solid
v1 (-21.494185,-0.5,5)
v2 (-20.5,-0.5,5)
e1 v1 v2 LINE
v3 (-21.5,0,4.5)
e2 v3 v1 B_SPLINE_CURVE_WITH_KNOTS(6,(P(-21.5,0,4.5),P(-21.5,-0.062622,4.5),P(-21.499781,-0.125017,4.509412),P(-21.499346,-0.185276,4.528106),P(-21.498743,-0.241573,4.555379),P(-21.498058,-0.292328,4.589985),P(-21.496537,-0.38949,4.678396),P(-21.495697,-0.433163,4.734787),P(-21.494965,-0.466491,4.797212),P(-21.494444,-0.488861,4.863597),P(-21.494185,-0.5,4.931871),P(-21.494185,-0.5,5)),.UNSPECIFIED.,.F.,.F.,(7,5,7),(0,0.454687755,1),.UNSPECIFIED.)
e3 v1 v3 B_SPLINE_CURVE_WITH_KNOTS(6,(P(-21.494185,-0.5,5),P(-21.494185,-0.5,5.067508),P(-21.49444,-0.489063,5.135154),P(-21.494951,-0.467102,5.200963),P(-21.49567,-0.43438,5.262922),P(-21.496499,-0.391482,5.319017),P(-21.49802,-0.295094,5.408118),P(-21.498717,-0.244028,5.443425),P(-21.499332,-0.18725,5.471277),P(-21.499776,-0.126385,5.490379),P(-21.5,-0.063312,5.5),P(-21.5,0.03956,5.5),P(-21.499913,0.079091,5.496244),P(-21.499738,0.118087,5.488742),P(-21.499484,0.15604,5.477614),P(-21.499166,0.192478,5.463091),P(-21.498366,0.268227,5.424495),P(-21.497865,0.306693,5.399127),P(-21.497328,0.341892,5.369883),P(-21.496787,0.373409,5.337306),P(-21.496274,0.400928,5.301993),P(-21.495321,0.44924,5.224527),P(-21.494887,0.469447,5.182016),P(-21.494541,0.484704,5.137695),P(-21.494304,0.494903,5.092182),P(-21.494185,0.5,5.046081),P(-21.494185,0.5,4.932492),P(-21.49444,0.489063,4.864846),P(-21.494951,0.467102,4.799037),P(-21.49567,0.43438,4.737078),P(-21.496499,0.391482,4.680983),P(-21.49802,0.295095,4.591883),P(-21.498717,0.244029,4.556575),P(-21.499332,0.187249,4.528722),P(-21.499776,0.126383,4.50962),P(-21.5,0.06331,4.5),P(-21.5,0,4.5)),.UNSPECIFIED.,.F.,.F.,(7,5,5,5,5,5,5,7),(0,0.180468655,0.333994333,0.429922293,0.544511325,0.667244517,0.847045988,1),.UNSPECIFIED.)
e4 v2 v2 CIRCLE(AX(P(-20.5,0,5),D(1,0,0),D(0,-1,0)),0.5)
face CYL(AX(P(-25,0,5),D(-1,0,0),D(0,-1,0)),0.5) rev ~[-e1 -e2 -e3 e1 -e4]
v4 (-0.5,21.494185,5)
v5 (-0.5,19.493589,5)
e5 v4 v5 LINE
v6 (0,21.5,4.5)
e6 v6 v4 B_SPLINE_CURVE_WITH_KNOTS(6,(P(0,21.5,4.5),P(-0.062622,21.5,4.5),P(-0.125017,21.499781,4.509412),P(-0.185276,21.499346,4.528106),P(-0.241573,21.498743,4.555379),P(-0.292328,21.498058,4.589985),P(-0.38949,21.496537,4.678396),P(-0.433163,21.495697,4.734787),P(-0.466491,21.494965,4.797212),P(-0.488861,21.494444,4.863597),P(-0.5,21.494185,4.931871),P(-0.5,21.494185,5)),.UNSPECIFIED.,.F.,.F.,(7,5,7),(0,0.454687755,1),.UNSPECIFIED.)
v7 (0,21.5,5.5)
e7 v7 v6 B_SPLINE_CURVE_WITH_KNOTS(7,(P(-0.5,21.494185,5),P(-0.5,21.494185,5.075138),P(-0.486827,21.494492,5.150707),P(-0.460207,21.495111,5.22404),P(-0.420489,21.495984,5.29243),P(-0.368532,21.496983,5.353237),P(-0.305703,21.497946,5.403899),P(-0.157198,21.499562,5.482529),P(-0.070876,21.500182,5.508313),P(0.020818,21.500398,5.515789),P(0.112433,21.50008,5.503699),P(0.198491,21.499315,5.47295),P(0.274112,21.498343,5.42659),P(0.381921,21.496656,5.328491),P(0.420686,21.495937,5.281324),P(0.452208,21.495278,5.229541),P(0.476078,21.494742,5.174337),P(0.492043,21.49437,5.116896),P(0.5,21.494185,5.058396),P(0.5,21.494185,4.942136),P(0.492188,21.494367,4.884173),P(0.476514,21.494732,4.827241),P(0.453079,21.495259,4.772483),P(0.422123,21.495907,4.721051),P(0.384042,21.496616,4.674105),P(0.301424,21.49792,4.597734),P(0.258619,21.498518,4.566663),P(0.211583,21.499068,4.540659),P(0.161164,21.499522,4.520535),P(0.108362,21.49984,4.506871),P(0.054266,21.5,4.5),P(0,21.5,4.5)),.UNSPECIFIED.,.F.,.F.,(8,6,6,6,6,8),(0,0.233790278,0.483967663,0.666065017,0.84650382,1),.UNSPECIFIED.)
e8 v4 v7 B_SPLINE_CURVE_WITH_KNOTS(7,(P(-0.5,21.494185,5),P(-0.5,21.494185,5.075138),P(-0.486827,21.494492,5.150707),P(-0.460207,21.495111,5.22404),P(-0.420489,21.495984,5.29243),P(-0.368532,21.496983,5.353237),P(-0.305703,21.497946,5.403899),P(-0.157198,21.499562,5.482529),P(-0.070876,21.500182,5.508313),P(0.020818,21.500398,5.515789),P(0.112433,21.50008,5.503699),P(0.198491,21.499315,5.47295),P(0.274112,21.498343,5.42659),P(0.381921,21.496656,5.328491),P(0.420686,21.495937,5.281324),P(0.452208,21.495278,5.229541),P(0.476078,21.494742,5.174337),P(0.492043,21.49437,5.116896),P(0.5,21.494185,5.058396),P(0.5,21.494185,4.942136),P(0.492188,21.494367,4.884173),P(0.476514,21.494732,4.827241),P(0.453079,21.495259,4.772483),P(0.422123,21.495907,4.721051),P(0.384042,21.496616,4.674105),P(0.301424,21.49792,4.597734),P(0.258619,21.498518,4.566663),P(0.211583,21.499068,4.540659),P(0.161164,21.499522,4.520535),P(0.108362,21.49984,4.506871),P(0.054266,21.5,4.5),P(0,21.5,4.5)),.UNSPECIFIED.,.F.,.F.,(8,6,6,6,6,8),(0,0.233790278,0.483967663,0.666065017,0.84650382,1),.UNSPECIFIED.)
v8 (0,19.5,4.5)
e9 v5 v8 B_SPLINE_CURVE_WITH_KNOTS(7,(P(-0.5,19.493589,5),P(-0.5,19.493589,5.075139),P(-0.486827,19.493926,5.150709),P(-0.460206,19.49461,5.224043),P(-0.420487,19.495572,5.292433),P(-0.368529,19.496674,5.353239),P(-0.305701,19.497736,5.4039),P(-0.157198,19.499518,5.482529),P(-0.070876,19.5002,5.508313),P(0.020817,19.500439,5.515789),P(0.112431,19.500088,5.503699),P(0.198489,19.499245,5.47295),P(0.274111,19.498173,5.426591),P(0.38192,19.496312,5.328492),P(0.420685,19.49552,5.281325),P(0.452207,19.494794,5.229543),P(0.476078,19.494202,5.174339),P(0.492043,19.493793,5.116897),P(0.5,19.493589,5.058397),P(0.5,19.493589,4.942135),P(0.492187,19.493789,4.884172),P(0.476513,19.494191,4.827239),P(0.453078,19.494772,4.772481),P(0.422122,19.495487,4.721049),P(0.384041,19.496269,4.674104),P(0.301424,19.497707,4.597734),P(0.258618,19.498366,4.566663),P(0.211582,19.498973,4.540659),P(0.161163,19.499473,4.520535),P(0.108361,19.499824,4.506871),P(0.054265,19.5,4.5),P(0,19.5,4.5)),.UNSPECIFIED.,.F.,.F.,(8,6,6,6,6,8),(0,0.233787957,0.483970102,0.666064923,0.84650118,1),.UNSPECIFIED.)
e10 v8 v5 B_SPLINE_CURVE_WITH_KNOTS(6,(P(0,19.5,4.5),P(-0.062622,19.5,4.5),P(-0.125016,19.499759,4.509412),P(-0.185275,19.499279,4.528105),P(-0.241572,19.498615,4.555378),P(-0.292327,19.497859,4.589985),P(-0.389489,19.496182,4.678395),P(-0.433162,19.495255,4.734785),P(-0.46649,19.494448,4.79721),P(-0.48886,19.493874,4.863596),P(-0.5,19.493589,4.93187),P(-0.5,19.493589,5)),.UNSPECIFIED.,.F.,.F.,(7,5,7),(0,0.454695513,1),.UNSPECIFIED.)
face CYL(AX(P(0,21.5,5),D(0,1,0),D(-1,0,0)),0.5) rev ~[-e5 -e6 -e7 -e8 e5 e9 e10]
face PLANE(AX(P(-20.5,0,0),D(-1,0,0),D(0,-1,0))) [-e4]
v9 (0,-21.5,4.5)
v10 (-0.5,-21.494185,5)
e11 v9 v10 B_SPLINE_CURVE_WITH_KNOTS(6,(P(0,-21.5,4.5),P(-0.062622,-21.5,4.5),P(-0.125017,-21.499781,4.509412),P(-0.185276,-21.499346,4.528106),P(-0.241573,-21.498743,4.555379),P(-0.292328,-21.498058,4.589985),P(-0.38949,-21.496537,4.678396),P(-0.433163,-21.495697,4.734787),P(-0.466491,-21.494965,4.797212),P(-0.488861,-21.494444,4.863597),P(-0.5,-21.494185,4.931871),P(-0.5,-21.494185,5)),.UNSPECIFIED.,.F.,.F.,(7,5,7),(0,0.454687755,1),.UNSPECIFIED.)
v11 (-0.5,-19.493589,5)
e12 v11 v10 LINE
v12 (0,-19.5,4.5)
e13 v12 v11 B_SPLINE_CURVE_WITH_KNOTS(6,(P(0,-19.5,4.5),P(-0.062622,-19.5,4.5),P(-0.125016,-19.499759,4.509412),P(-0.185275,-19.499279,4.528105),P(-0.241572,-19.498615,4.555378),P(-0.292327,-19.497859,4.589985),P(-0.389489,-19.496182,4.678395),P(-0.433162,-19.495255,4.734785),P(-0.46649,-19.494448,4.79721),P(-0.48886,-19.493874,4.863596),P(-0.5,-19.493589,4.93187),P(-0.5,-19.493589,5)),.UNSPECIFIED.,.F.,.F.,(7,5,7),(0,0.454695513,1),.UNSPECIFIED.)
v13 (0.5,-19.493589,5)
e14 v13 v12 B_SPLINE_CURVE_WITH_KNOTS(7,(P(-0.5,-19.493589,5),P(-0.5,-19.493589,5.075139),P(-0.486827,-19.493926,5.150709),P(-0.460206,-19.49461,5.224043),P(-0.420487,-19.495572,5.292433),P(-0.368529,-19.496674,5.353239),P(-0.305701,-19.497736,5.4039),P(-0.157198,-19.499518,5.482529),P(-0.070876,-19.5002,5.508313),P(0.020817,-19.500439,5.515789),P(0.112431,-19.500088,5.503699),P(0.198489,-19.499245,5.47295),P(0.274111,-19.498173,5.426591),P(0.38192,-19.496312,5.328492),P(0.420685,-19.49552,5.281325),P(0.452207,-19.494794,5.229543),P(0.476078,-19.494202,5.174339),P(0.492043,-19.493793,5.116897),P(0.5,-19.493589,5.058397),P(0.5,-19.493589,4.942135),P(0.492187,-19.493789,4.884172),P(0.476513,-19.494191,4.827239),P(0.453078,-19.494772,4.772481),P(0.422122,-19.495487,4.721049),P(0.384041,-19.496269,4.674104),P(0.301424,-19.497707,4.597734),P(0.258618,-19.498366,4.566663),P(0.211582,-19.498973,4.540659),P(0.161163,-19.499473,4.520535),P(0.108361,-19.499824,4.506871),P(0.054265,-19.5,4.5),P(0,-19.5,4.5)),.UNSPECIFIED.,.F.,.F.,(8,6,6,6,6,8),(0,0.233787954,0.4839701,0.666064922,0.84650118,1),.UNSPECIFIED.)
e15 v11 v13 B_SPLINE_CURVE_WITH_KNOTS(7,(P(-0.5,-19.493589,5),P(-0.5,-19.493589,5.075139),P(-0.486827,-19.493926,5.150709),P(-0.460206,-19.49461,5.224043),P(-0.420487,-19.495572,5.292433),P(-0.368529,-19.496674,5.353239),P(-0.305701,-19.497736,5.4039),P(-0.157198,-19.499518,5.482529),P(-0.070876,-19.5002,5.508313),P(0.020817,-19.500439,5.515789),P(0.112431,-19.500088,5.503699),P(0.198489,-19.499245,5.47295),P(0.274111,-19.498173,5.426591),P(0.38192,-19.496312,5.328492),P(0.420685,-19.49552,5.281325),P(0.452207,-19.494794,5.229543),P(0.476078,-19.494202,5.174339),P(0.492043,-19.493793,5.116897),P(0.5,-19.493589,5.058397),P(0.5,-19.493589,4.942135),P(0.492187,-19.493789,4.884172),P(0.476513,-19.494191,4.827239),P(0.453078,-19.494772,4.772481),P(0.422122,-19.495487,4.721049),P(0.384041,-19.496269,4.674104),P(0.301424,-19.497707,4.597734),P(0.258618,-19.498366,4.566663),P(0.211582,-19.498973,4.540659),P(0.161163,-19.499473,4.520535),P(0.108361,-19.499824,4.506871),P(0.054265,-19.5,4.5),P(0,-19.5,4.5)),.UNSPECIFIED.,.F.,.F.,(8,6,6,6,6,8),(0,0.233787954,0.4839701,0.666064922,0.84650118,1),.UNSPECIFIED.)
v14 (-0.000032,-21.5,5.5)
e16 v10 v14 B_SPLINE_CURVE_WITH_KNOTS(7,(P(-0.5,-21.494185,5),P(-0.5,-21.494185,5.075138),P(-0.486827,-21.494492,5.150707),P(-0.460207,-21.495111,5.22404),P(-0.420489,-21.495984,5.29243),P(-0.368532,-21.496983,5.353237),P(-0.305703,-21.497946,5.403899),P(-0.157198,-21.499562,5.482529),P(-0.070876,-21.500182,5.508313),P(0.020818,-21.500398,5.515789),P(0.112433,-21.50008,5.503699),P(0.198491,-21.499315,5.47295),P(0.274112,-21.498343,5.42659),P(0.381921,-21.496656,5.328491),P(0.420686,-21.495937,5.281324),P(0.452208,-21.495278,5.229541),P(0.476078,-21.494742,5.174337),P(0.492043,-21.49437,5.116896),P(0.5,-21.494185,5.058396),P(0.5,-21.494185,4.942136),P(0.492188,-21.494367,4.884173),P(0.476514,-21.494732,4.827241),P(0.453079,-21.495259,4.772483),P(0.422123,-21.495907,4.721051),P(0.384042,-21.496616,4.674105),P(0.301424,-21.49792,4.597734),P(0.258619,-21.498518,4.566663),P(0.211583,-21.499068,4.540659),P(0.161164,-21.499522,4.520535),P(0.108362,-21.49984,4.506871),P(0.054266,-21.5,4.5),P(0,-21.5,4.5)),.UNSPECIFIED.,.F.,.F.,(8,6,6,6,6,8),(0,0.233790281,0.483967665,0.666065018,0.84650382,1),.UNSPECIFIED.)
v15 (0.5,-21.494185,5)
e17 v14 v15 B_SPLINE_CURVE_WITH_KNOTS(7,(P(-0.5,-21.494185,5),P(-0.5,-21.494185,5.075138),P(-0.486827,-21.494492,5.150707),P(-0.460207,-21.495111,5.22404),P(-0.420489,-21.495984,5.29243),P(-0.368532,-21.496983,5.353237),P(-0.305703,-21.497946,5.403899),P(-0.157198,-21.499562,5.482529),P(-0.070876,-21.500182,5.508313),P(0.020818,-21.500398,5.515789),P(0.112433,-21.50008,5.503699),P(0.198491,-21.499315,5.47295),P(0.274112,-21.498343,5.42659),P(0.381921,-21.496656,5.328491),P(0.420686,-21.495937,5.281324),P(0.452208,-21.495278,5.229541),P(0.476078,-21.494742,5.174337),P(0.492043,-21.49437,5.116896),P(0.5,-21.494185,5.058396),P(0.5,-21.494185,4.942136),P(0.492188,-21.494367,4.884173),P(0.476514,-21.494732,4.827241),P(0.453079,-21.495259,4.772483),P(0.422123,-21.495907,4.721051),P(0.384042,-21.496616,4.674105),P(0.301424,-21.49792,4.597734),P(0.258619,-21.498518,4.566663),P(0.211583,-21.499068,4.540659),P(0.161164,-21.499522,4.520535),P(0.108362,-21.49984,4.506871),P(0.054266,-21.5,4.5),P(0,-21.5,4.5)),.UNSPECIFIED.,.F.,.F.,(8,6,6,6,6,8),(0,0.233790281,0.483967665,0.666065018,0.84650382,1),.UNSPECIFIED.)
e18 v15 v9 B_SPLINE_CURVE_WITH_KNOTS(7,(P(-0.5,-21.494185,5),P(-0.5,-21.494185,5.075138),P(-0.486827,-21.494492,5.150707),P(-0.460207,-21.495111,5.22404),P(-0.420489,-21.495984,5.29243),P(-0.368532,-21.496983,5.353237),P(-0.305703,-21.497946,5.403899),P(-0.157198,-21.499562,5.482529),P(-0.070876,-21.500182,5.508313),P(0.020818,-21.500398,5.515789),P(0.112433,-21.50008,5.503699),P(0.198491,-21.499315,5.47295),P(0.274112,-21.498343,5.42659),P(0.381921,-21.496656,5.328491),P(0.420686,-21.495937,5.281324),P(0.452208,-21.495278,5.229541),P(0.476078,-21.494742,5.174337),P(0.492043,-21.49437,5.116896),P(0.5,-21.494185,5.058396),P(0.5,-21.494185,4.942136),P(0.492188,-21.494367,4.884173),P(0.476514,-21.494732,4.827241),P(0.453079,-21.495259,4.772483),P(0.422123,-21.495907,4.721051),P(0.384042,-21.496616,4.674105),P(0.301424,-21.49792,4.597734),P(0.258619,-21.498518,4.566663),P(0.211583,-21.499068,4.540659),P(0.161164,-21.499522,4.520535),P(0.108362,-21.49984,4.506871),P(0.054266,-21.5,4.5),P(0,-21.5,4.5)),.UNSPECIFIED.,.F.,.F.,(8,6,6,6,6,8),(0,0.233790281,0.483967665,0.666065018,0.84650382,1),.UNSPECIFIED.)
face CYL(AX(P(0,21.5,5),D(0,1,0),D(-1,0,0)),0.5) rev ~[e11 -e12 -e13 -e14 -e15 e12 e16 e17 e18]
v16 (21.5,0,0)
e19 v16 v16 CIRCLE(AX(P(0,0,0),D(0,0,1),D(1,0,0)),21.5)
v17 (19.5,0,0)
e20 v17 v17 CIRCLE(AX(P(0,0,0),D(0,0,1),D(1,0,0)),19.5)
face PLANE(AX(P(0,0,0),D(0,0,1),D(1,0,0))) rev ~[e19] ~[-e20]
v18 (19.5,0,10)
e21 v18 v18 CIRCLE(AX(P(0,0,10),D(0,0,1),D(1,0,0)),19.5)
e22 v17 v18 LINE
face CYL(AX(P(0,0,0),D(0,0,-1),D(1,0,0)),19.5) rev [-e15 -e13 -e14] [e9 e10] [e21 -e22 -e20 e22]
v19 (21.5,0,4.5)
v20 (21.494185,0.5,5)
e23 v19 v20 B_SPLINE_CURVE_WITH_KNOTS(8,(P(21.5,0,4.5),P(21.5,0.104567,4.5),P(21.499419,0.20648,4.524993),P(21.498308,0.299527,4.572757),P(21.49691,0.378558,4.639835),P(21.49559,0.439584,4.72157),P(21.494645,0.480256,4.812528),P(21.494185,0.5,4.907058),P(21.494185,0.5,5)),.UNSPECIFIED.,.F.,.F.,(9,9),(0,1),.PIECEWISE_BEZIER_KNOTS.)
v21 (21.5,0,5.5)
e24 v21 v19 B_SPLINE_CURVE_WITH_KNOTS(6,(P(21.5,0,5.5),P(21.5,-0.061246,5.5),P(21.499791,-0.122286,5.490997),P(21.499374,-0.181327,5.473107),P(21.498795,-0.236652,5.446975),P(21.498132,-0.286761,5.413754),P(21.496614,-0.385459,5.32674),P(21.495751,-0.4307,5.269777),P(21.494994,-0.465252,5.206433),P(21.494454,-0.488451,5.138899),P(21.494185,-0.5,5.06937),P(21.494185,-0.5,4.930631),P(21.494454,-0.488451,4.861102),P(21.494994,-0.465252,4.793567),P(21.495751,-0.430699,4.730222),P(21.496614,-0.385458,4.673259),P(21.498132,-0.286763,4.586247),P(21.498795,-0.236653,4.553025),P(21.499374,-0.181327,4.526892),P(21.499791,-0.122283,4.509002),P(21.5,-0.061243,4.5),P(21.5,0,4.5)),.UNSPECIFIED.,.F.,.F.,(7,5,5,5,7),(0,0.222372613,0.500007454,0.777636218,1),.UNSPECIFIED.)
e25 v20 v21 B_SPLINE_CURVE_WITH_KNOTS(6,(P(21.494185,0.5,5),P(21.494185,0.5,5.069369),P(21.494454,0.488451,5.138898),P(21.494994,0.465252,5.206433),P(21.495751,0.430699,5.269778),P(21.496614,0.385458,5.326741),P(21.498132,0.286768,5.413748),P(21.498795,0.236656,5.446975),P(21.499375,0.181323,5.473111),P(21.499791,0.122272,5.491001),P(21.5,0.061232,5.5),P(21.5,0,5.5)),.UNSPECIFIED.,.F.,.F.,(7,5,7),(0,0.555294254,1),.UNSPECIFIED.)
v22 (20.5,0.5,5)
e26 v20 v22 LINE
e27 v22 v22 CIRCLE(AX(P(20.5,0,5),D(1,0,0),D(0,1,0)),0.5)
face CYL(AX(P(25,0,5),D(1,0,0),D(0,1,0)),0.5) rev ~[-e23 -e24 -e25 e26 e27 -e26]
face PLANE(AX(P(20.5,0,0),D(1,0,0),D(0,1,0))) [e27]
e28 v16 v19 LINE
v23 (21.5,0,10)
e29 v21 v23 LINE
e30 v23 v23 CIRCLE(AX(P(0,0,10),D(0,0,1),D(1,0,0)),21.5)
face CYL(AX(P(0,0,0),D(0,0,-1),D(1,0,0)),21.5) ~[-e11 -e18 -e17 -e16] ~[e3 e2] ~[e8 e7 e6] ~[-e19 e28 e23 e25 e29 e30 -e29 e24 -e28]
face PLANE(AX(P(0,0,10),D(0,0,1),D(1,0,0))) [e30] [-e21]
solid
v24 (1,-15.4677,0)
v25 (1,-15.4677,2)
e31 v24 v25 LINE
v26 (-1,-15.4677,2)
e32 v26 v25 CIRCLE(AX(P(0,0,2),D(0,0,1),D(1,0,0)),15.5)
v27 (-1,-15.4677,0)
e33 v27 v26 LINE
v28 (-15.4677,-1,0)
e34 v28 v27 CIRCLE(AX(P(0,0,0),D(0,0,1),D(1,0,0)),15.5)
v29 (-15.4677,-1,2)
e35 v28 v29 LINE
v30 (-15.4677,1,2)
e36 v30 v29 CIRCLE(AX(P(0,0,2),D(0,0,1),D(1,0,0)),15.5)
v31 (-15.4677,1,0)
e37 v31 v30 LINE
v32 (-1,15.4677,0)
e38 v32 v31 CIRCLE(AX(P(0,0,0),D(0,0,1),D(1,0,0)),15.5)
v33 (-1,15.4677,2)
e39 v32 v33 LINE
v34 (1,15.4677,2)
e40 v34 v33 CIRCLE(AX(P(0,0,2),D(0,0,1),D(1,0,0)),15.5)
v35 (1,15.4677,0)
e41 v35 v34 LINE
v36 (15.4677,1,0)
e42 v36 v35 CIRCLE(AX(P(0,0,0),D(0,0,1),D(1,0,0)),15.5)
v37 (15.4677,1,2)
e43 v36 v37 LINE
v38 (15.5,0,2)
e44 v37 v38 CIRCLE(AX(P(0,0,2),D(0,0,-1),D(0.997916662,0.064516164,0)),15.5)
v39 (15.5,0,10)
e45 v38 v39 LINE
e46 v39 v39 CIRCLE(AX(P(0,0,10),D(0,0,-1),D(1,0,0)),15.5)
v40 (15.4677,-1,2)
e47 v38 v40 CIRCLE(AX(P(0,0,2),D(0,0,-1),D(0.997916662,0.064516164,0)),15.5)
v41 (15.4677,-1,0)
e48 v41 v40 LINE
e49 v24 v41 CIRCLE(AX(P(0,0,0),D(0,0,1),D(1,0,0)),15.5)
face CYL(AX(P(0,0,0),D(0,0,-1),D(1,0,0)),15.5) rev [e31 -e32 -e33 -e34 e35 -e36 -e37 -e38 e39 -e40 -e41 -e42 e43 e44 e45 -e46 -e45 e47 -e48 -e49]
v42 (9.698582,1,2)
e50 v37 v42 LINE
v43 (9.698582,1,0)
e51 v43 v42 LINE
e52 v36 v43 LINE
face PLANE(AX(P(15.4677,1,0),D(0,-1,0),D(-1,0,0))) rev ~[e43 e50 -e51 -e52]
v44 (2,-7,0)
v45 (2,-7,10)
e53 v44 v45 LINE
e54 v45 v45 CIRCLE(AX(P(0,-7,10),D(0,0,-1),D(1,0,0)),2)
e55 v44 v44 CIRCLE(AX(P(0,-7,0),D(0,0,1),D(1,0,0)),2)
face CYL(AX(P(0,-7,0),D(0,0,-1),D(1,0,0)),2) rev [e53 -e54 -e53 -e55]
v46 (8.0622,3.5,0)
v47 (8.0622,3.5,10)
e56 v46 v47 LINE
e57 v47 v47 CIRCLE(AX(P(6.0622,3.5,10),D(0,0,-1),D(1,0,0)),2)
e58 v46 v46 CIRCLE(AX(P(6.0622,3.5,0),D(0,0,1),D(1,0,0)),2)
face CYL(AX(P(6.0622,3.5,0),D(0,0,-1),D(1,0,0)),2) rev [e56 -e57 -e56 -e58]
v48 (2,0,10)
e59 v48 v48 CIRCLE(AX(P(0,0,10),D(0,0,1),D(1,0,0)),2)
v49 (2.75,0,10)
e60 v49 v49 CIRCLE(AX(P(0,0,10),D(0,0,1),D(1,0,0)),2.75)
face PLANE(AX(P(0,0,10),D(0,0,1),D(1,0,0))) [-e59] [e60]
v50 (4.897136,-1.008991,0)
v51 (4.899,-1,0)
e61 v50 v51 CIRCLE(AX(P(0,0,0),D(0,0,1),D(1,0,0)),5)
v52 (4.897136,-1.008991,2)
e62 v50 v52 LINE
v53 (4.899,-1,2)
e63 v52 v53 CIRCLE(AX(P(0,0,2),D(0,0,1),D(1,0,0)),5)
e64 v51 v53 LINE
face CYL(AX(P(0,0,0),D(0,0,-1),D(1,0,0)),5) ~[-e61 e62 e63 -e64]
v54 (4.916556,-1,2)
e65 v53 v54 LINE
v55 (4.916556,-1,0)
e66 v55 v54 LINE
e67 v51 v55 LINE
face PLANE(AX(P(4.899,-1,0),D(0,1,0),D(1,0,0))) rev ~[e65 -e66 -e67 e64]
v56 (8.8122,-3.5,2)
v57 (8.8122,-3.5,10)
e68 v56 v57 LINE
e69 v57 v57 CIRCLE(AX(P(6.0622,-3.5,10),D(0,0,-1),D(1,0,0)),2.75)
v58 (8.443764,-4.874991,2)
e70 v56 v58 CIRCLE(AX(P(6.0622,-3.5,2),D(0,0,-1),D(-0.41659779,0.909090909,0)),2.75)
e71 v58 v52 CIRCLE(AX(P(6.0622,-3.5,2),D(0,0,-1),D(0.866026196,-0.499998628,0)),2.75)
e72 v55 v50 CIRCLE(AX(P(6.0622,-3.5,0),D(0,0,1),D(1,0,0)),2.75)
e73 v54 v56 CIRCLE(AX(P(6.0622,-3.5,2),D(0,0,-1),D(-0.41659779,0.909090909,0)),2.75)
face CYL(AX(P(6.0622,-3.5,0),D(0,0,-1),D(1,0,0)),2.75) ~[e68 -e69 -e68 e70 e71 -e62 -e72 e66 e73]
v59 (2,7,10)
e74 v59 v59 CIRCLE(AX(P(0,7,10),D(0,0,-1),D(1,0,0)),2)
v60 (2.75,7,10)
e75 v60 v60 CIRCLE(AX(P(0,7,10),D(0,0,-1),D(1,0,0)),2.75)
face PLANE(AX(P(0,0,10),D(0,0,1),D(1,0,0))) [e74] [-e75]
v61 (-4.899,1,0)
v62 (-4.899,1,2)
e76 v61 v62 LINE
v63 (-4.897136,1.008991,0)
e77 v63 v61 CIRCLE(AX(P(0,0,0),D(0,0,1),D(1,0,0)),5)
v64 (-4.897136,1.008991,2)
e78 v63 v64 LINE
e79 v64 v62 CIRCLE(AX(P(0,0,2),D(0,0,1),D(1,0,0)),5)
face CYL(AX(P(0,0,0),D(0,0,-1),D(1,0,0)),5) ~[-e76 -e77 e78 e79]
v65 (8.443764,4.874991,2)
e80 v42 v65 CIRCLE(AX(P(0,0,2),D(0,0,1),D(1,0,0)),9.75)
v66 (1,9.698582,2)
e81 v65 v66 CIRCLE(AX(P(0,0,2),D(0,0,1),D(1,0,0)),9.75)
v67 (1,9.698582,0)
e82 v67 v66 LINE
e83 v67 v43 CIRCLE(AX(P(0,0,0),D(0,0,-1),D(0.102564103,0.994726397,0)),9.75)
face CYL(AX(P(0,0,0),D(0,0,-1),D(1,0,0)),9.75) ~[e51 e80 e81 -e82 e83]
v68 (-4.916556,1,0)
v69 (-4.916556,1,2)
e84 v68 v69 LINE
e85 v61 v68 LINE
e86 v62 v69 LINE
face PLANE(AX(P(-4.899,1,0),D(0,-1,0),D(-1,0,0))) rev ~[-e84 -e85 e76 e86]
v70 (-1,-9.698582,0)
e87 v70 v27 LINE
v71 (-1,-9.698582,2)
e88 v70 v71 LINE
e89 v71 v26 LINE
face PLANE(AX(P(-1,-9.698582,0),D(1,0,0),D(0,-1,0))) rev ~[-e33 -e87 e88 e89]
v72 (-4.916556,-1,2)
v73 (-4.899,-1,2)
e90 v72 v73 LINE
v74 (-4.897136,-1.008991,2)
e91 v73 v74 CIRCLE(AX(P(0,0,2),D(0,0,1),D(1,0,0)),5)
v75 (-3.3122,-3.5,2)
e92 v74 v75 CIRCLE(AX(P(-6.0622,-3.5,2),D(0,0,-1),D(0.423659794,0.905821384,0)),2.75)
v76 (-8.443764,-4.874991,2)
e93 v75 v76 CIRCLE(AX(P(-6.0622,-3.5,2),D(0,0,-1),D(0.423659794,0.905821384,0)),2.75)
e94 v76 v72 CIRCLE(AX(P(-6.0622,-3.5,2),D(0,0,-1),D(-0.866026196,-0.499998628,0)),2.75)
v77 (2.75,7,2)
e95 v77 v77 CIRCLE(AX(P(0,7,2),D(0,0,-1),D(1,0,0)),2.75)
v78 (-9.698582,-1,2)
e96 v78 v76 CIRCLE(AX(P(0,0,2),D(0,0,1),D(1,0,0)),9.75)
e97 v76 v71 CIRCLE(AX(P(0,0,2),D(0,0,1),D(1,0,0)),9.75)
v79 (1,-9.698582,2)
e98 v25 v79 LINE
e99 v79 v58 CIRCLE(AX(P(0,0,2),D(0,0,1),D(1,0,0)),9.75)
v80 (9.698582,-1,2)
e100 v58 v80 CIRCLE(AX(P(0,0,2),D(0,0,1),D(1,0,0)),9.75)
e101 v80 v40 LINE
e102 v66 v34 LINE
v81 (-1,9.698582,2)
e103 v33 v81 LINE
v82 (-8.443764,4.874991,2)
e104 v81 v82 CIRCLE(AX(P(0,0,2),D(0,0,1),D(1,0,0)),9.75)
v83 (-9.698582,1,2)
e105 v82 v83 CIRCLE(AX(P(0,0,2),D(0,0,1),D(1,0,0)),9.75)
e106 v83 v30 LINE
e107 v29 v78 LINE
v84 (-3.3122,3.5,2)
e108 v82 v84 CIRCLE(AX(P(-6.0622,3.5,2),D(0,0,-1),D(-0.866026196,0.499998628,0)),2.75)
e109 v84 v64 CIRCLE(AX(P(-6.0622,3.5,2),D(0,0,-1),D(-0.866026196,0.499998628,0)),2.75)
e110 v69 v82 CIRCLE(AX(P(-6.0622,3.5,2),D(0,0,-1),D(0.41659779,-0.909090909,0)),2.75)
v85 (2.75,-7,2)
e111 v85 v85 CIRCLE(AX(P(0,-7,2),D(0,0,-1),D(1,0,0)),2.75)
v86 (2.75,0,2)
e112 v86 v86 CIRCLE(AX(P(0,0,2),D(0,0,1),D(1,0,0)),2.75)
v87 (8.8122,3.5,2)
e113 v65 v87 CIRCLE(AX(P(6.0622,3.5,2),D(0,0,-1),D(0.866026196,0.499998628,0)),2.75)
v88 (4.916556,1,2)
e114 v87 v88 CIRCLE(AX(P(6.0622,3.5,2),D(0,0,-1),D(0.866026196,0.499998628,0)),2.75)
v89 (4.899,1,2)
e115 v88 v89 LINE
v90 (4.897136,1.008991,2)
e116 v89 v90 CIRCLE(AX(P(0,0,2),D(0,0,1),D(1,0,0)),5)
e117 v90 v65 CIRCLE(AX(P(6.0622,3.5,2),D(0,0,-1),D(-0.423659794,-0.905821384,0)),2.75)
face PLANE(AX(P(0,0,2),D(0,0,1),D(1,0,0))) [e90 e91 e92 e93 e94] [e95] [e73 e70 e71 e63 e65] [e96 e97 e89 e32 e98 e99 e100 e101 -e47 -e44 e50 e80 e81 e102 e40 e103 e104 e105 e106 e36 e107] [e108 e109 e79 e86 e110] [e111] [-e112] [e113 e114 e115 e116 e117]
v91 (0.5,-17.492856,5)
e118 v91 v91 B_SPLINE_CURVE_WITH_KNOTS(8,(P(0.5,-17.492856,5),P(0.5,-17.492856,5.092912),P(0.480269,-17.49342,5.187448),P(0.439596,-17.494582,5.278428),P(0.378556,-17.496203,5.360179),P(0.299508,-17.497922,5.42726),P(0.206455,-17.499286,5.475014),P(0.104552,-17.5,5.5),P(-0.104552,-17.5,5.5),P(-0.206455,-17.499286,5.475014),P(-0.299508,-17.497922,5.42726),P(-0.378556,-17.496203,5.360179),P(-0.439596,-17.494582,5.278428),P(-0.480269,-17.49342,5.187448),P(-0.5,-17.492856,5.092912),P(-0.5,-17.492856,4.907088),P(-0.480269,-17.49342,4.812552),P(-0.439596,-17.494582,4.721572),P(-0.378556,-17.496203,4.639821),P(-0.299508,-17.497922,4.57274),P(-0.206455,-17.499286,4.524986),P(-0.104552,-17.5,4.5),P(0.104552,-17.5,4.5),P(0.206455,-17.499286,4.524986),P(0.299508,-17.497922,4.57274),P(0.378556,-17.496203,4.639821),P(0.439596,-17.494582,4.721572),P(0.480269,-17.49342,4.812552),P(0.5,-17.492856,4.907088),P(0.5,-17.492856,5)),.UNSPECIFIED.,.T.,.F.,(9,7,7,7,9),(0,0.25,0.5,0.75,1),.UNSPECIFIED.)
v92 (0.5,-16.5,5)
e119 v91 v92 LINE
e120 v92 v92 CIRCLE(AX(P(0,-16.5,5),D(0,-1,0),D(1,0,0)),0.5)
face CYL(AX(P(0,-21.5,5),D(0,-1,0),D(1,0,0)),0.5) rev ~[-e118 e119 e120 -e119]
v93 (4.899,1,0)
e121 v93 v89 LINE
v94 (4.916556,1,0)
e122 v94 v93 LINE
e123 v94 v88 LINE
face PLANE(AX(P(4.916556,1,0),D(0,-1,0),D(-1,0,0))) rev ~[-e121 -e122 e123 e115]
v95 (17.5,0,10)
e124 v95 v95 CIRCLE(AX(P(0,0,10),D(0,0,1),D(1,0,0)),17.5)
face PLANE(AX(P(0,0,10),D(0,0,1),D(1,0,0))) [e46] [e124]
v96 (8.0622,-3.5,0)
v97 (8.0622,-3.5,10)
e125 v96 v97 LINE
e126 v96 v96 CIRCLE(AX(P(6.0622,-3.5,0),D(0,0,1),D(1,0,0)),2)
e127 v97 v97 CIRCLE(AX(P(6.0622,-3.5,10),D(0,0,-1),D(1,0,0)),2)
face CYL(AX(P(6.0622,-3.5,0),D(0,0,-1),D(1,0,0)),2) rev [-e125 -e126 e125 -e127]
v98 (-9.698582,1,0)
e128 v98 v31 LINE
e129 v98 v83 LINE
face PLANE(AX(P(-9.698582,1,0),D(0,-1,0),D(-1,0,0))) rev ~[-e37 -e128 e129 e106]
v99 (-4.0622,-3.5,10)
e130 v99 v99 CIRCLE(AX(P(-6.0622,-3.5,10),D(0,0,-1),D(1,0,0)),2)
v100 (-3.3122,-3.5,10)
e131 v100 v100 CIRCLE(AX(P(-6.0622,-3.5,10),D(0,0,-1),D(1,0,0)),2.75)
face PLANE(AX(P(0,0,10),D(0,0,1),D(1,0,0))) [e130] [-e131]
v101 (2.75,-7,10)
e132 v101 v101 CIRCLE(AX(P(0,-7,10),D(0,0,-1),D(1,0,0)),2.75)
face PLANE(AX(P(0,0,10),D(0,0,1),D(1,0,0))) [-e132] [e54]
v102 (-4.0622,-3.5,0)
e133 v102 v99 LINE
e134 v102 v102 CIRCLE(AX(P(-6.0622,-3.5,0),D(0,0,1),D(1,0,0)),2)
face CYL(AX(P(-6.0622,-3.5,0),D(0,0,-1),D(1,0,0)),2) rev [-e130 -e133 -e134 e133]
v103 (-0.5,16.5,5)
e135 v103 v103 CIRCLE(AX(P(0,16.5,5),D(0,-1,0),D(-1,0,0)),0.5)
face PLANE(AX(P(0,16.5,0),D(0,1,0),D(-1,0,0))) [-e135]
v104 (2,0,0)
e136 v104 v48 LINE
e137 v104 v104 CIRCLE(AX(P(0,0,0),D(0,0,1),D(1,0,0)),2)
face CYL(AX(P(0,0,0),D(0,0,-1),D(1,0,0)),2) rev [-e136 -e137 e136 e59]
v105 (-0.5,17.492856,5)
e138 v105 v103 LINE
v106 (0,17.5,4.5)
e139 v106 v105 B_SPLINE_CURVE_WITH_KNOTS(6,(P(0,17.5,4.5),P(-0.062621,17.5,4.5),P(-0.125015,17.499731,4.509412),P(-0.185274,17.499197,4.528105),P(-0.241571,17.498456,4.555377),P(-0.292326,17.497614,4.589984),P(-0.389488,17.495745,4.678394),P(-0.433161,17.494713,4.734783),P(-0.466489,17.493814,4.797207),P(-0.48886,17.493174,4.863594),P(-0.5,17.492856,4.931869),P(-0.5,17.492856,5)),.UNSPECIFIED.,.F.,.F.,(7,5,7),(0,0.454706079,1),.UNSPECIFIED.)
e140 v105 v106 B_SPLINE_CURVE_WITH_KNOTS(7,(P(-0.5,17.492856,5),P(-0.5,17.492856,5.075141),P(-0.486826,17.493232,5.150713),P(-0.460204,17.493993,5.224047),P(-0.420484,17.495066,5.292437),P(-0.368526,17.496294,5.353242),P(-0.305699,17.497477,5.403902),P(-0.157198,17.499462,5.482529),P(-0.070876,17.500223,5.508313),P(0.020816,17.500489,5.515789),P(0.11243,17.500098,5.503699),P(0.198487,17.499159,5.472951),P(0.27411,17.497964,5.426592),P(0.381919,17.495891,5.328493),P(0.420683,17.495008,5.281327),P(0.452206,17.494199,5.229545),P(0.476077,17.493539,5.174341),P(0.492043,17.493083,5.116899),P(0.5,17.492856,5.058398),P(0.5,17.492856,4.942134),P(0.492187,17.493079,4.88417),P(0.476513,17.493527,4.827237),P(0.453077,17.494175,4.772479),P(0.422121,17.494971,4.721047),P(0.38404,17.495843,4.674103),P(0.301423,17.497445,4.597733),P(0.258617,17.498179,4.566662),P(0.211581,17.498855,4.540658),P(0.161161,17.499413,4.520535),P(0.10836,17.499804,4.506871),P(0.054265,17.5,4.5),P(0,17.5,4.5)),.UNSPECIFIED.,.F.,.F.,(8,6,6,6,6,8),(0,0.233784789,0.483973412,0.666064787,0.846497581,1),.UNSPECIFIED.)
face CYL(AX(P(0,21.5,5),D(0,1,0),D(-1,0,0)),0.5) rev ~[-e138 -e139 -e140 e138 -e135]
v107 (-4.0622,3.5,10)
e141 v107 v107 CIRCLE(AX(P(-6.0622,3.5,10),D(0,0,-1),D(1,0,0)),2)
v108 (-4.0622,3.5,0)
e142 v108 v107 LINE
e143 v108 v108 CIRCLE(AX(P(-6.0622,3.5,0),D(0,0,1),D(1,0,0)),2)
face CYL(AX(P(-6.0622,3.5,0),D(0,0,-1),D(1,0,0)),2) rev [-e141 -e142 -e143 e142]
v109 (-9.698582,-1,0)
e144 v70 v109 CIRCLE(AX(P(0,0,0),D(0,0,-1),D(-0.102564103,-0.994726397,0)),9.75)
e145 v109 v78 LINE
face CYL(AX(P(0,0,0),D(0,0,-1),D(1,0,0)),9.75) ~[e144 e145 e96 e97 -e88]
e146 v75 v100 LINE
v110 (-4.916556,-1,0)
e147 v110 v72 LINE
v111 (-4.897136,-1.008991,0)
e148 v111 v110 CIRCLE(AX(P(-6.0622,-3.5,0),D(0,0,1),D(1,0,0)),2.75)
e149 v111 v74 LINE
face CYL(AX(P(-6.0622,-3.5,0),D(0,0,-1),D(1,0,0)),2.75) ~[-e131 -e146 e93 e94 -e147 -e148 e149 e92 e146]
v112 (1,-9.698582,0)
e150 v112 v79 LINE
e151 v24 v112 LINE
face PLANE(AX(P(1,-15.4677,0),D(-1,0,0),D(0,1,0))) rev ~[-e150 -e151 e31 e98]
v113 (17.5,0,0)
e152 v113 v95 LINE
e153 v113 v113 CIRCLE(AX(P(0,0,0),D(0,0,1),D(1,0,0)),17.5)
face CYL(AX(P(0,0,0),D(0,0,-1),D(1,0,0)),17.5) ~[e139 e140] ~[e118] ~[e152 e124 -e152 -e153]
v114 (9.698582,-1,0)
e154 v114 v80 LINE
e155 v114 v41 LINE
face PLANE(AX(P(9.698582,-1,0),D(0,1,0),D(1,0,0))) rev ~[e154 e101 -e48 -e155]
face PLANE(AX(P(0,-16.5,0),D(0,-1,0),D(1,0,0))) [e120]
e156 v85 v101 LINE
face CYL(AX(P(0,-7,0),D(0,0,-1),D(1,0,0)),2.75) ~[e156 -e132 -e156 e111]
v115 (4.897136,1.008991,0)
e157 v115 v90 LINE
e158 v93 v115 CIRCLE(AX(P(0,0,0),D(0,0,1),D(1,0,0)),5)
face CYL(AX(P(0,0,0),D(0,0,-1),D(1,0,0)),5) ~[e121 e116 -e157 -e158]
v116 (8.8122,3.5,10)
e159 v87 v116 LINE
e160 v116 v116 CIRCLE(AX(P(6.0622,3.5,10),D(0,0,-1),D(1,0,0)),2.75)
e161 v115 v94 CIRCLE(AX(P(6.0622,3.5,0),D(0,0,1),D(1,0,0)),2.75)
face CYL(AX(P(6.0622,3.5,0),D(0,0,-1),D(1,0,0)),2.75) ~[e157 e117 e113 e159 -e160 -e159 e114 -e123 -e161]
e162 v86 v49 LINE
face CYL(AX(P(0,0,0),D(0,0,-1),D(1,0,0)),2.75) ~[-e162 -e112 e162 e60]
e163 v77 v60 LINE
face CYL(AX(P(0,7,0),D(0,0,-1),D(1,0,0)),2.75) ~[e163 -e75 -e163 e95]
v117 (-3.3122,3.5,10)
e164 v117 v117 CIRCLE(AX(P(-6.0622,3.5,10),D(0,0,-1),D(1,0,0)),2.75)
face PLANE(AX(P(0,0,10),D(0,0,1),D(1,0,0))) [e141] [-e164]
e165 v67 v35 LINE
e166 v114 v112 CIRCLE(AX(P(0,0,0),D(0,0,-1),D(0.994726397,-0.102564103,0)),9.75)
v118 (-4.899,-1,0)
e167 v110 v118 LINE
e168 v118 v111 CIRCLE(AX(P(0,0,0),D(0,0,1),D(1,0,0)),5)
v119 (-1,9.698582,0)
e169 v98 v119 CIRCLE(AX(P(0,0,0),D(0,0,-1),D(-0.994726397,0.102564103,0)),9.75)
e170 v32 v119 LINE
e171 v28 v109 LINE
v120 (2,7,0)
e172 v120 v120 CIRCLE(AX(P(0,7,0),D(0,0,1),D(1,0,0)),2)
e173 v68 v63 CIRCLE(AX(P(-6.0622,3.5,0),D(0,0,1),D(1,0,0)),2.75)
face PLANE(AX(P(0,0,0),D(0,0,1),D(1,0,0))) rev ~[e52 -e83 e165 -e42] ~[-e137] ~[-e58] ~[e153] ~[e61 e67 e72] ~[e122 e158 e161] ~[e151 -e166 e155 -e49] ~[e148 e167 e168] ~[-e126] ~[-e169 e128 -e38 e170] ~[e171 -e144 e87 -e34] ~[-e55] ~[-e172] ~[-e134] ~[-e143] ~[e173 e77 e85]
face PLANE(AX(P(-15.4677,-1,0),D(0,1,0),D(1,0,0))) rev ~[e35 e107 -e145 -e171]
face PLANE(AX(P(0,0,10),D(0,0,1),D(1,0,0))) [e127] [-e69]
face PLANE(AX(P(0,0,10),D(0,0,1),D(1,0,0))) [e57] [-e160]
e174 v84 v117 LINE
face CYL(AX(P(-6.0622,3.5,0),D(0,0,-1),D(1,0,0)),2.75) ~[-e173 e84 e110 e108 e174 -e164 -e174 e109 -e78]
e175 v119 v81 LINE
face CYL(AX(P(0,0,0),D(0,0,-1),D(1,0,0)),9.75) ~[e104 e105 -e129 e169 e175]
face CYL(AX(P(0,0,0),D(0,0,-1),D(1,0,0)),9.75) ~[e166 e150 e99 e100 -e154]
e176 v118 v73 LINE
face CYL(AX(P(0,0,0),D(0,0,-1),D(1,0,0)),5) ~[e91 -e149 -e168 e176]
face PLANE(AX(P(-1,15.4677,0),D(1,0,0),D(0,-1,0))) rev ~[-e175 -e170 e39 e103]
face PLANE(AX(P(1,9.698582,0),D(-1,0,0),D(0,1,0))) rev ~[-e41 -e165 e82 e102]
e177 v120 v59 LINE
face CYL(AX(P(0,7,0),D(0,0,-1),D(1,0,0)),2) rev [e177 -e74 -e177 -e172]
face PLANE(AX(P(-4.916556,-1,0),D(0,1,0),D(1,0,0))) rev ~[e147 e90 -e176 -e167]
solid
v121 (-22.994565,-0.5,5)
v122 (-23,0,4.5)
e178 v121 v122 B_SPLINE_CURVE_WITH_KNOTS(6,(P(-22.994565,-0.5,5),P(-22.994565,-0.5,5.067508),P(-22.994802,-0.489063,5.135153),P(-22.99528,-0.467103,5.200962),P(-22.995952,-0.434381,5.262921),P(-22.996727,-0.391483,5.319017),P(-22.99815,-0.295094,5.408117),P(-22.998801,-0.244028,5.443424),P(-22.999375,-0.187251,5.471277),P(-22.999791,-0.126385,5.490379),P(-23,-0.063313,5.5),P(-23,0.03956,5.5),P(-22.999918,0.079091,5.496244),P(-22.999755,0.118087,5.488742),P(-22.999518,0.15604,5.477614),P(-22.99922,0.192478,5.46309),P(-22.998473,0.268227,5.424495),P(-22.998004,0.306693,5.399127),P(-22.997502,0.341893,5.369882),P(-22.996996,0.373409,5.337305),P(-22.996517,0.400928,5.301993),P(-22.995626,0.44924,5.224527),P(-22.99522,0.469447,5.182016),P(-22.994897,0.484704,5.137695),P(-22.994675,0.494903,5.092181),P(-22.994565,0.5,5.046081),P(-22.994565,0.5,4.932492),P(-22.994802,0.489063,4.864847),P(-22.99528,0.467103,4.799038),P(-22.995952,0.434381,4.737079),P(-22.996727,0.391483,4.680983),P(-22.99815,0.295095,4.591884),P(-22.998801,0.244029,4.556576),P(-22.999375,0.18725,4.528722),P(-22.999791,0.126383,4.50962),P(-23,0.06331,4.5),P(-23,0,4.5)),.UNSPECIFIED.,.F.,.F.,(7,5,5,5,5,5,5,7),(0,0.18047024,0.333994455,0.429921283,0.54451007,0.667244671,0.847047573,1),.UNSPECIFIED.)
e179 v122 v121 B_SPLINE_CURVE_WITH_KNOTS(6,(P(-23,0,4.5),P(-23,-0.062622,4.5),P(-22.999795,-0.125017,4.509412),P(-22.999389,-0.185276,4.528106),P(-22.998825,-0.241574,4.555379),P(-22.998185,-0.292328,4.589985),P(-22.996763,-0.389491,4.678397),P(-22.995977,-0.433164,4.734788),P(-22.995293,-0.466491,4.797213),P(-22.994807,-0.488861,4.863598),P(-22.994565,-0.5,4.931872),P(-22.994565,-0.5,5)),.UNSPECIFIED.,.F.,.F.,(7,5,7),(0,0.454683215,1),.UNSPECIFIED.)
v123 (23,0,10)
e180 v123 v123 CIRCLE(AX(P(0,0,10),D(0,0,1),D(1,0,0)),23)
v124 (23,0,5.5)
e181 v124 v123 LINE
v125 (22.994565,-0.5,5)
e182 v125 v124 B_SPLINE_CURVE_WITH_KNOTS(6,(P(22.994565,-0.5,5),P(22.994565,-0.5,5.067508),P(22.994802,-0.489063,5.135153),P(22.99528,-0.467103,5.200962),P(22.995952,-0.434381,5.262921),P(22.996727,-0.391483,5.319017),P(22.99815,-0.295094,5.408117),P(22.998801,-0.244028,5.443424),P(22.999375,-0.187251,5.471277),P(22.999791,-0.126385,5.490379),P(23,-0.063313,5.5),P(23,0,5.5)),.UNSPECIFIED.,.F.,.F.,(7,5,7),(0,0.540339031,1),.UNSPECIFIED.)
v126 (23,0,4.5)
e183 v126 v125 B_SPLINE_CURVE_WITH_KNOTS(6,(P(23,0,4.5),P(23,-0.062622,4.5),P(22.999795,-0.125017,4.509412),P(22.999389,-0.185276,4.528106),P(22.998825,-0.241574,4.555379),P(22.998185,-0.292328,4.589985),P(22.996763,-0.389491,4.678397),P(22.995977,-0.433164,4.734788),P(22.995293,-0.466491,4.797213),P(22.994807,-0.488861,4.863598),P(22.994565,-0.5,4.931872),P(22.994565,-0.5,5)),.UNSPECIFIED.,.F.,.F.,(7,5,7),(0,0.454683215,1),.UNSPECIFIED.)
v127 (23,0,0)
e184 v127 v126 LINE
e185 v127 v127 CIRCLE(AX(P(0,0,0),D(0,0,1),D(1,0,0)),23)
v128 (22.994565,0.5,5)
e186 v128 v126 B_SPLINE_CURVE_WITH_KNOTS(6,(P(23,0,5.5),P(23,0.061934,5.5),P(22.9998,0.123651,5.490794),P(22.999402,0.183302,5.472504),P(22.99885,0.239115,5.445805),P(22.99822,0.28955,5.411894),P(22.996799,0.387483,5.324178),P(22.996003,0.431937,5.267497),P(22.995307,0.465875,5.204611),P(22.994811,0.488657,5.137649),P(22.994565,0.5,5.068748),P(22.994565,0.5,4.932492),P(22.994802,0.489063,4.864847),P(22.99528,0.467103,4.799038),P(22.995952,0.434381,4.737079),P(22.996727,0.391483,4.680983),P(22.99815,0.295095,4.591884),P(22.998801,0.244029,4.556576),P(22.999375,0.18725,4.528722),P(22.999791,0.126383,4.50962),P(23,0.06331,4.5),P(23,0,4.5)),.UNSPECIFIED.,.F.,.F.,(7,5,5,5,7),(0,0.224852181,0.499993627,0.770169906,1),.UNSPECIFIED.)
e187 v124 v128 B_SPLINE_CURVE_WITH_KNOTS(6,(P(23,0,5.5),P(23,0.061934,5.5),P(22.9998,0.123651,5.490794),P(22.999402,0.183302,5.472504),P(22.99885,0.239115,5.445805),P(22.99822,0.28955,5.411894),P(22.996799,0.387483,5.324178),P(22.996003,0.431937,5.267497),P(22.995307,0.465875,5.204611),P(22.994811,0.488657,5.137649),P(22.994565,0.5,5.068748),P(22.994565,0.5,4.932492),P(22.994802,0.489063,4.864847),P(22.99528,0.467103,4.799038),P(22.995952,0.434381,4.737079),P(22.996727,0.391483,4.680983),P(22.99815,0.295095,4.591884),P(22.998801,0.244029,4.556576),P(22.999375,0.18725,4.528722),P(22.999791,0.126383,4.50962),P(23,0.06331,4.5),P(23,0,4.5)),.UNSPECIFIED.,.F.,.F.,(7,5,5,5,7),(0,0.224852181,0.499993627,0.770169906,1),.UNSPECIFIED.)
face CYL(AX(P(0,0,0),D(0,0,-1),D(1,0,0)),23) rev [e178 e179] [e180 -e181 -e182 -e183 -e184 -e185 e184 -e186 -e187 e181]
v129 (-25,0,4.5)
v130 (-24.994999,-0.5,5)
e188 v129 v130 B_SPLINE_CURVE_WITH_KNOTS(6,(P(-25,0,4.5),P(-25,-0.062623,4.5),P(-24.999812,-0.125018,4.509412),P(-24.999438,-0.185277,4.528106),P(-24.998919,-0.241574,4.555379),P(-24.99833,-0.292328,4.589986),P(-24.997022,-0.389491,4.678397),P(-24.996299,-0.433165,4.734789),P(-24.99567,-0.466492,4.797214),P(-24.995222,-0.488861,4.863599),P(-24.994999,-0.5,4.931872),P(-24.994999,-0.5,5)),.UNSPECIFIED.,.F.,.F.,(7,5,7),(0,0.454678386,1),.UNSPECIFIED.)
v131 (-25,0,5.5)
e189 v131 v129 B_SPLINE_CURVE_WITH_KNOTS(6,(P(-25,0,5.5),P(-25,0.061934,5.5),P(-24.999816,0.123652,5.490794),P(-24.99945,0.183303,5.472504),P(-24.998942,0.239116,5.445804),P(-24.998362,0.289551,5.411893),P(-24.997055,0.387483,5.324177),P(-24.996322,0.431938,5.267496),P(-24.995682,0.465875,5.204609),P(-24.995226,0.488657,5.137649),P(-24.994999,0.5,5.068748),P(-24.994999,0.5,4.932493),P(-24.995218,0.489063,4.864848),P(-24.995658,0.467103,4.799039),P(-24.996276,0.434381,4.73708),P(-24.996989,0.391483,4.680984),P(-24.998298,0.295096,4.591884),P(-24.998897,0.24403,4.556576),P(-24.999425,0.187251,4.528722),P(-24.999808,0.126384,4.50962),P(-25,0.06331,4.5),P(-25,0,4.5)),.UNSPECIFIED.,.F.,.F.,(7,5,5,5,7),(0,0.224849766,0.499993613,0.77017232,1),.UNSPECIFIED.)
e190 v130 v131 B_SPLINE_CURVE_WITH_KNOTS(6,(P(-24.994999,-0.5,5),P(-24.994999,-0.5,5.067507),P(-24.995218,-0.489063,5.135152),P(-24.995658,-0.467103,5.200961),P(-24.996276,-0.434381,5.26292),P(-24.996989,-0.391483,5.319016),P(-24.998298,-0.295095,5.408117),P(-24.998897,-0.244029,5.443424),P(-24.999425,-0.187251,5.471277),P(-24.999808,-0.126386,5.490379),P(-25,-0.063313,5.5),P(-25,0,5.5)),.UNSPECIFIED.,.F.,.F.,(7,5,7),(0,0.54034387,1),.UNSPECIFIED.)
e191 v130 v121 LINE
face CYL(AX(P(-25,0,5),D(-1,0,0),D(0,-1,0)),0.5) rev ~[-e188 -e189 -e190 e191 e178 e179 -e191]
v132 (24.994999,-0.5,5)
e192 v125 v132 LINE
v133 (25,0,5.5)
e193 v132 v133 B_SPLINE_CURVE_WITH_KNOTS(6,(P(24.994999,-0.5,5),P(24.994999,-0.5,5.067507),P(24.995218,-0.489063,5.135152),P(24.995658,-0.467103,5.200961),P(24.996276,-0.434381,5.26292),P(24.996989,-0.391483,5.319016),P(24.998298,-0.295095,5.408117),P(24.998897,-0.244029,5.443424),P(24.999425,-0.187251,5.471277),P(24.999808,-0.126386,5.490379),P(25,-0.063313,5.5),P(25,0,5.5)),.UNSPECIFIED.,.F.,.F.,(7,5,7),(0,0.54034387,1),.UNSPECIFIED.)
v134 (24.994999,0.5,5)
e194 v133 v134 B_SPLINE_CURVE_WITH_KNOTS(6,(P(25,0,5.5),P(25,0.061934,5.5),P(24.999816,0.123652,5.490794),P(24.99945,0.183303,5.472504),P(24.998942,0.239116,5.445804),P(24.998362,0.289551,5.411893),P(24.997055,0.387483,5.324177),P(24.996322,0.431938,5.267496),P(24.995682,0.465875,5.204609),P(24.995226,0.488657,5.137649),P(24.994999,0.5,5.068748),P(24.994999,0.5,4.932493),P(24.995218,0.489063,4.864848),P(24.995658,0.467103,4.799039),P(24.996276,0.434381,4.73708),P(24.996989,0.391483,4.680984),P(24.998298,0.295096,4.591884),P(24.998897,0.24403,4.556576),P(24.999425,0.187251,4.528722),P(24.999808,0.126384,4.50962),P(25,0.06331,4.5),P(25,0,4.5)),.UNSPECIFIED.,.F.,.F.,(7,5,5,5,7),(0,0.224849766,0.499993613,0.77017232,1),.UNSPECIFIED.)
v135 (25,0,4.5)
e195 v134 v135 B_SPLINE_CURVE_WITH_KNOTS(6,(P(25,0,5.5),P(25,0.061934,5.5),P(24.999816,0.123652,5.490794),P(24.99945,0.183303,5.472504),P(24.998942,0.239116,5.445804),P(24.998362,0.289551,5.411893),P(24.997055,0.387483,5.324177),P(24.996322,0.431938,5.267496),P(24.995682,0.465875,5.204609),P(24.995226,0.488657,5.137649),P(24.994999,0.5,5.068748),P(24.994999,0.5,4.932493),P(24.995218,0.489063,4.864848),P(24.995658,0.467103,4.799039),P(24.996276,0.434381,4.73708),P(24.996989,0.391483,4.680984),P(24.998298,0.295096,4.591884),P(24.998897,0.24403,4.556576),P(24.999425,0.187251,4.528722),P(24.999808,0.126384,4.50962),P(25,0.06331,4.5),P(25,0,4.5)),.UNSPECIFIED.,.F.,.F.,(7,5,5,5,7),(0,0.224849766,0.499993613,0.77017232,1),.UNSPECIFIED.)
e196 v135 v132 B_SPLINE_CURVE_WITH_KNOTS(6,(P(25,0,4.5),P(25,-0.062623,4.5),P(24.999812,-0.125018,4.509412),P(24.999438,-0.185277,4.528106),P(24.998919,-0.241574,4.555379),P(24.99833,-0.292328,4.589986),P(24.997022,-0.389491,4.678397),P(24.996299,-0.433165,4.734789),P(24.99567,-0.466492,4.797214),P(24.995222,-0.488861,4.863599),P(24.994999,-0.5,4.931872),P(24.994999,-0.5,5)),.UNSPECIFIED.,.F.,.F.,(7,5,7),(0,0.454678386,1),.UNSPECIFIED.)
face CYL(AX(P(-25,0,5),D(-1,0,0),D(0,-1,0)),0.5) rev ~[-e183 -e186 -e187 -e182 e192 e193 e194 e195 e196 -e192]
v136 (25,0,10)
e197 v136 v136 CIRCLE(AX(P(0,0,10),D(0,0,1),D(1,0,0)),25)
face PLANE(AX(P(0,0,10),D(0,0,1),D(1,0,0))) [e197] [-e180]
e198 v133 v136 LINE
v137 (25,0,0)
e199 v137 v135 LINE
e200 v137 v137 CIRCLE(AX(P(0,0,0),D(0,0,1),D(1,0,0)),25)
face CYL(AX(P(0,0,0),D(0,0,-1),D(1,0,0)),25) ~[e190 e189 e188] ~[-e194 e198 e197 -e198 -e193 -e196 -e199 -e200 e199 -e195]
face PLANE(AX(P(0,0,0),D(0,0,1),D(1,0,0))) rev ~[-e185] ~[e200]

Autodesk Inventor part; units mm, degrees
ref_plane "YZ Plane" through (0, 0, 0) normal (1, 0, 0) x (0, 1, 0)
ref_plane "XZ Plane" through (0, 0, 0) normal (0, 1, 0) x (-1, 0, 0)
ref_plane "XY Plane" through (0, 0, 0) normal (0, 0, 1) x (1, 0, 0)
sketch "Sketch1" plane through (0, 0, 0) normal (0, 0, 1) x (1, 0, 0)
  circle A0 centre (0, 0) radius 25
  circle A1 centre (0, 0) radius 23
  circle A2 centre (0, 0) radius 21.5
  circle A3 centre (0, 0) radius 19.5
  circle A4 centre (0, 0) radius 17.5
  circle A5 centre (0, 0) radius 15.5
  circle A6 centre (0, 0) radius 5
  line L0 (-0.9525, -15.4707) -> (0.9525, 15.4707) construction
  line L1 (0.9525, -15.4707) -> (-0.9525, 15.4707) construction
  circle A7 centre (0, 0) radius 2
  line L2 (-1, 15.4677) -> (-1, 4.899)
  line L3 (-1, -4.899) -> (-1, -15.4677)
  line L4 (1, -15.4677) -> (1, -4.899)
  line L5 (1, 4.899) -> (1, 15.4677)
  circle A8 centre (0, 0) radius 2.75
  circle A9 centre (0, 7) radius 2
  circle A10 centre (0, 7) radius 2.75
  line L6 (-15.4677, -1) -> (-4.899, -1)
  line L7 (4.899, -1) -> (15.4677, -1)
  line L8 (15.4677, 1) -> (4.899, 1)
  line L9 (-4.899, 1) -> (-15.4677, 1)
  circle A11 centre (-6.0622, 3.5) radius 2.75
  circle A12 centre (-6.0622, 3.5) radius 2
  circle A13 centre (-6.0622, -3.5) radius 2.75
  circle A14 centre (-6.0622, -3.5) radius 2
  circle A15 centre (0, -7) radius 2.75
  circle A16 centre (0, -7) radius 2
  circle A17 centre (6.0622, -3.5) radius 2.75
  circle A18 centre (6.0622, -3.5) radius 2
  circle A19 centre (6.0622, 3.5) radius 2.75
  circle A20 centre (6.0622, 3.5) radius 2
  circle A21 centre (0, 0) radius 9.75
  point P0 (-15, 0)
  point P1 (-25, 0)
  point P2 (25, 0)
  point P3 (0, 23)
  point P4 (0, -21.5)
  point P5 (0, 21.5)
  point P6 (-8.4437, 4.875)
  point P7 (-9.6986, 1)
  point P8 (-9.6986, -1)
  point P9 (-8.4437, -4.875)
  point P10 (-4.9165, -1)
  point P11 (-4.8971, -1.009)
  point P12 (-1, -9.6986)
  point P13 (1, -9.6986)
  point P14 (8.4437, -4.875)
  point P15 (4.8971, -1.009)
  point P16 (4.9165, -1)
  point P17 (9.6986, -1)
  point P18 (9.6986, 1)
  point P19 (8.4437, 4.875)
  point P20 (4.9165, 1)
  point P21 (4.8971, 1.009)
  point P22 (1, 9.6986)
  point P23 (-1, 9.6986)
  point P24 (-4.8971, 1.009)
  point P25 (-4.9165, 1)
  dimension "d0" = 50
  dimension "d1" = 2
  dimension "d2" = 43
  dimension "d3" = 2
  dimension "d4" = 35
  dimension "d5" = 2
  dimension "d16" = 4
  dimension "d17" = 2
  dimension "d18" = 2
  dimension "d19" = 5.5
  dimension "d48" = 4
  dimension "d49" = 5.5
  dimension "d50" = 7
  dimension "d51" = 2
  dimension "d52" = 2
  dimension "d55" = 360
  dimension "d57" = 19.5
extrude "Extrusion1" add sketch "Sketch1" along normal blind 10 contours A0
ref_plane "Work Plane1" through (-25, 0, 0) normal (-1, 0, 0) x (0, -1, 0)
sketch "Sketch2" plane through (-25, 0, 0) normal (-1, 0, 0) x (0, -1, 0)
  line L0 (0, 0) -> (0, 5)
  circle A0 centre (0, 5) radius 0.5
  dimension "d22" = 5
  dimension "d23" = 1
extrude "Extrusion2" cut sketch "Sketch2" against normal blind 50
extrude "Extrusion3" add sketch "Sketch1" along normal blind 10 contours A2
ref_plane "Work Plane2" through (0, 21.5, 0) normal (0, 1, 0) x (-1, 0, 0)
sketch "Sketch3" plane through (0, 21.5, 0) normal (0, 1, 0) x (-1, 0, 0)
  line L0 (0, 0) -> (0, 5)
  circle A0 centre (0, 5) radius 0.5
  dimension "d28" = 5
  dimension "d29" = 1
extrude "Extrusion4" cut sketch "Sketch3" against normal blind 44
extrude "Extrusion5" cut sketch "Sketch2" against normal blind 4.5
ref_plane "Work Plane3" through (25, 0, 0) normal (1, 0, 0) x (0, 1, 0)
sketch "Sketch4" plane through (25, 0, 0) normal (1, 0, 0) x (0, 1, 0)
  circle A0 centre (0, 5) radius 0.5 projected
  circle A1 centre (0, 5) radius 0.5
  point P0 (0, 0)
  dimension "d34" = 1
extrude "Extrusion6" cut sketch "Sketch4" against normal blind 4.5
extrude "Extrusion7" add sketch "Sketch1" along normal blind 10 contours A4
extrude "Extrusion8" cut sketch "Sketch3" against normal blind 5
ref_plane "Work Plane4" through (0, -21.5, 0) normal (0, -1, 0) x (1, 0, 0)
sketch "Sketch5" plane through (0, -21.5, 0) normal (0, -1, 0) x (1, 0, 0)
  circle A0 centre (0, 5) radius 0.5 projected
  circle A1 centre (0, 5) radius 0.5
  point P0 (0, 0)
  dimension "d41" = 1
extrude "Extrusion9" cut sketch "Sketch5" against normal blind 5
extrude "Extrusion10" add sketch "Sketch1" along normal blind 2 contours A5 L7 A21 L8 | L5 A21 L2 A5 | A21 L7 A17 A6 L8 A19 | L8 A19 A21 | A5 L3 A21 L4 | A21 A17 L7 | A21 A19 A6 A10 L5 | L5 A10 A21 | A21 A15 L4 | L4 A15 A6 A17 A21 | L9 A21 L6 A5 | A21 A10 L2 | L2 A10 A6 A11 A21 | A19 A6 A17 A15 A13 A11 A10 | A21 A13 A6 A15 L3 | L3 A15 A21 | A21 A11 L9 | L9 A11 A6 L6 A13 A21 | L6 A13 A21
extrude "Extrusion11" add sketch "Sketch1" along normal blind 10 contours A19 L8 | L8 A19 A6 | A17 A6 L7 | L7 A17 | A10 A6 L5 A9 | L5 A9 L2 A10 | A6 A19 | A15 L3 A16 L4 | L4 A16 A6 A15 | A17 A6 | L2 A9 A6 A10 | A11 A6 L9 | A10 A6 | A15 A6 L3 A16 | A13 L6 A6 | A6 A15 | L9 A11 | A11 A6 | L5 A6 A9 | A13 L6 | A6 A13 | A16 A6 L4 | A9 A6 L2 | L3 A6 A16 | A8 picked at (5.9988, 1.1697) picked at (5.9988, -1.1697) picked at (-6.0041, 1.1692) picked at (-6.0041, -1.1692)
properties part number "improved_gimbal"
